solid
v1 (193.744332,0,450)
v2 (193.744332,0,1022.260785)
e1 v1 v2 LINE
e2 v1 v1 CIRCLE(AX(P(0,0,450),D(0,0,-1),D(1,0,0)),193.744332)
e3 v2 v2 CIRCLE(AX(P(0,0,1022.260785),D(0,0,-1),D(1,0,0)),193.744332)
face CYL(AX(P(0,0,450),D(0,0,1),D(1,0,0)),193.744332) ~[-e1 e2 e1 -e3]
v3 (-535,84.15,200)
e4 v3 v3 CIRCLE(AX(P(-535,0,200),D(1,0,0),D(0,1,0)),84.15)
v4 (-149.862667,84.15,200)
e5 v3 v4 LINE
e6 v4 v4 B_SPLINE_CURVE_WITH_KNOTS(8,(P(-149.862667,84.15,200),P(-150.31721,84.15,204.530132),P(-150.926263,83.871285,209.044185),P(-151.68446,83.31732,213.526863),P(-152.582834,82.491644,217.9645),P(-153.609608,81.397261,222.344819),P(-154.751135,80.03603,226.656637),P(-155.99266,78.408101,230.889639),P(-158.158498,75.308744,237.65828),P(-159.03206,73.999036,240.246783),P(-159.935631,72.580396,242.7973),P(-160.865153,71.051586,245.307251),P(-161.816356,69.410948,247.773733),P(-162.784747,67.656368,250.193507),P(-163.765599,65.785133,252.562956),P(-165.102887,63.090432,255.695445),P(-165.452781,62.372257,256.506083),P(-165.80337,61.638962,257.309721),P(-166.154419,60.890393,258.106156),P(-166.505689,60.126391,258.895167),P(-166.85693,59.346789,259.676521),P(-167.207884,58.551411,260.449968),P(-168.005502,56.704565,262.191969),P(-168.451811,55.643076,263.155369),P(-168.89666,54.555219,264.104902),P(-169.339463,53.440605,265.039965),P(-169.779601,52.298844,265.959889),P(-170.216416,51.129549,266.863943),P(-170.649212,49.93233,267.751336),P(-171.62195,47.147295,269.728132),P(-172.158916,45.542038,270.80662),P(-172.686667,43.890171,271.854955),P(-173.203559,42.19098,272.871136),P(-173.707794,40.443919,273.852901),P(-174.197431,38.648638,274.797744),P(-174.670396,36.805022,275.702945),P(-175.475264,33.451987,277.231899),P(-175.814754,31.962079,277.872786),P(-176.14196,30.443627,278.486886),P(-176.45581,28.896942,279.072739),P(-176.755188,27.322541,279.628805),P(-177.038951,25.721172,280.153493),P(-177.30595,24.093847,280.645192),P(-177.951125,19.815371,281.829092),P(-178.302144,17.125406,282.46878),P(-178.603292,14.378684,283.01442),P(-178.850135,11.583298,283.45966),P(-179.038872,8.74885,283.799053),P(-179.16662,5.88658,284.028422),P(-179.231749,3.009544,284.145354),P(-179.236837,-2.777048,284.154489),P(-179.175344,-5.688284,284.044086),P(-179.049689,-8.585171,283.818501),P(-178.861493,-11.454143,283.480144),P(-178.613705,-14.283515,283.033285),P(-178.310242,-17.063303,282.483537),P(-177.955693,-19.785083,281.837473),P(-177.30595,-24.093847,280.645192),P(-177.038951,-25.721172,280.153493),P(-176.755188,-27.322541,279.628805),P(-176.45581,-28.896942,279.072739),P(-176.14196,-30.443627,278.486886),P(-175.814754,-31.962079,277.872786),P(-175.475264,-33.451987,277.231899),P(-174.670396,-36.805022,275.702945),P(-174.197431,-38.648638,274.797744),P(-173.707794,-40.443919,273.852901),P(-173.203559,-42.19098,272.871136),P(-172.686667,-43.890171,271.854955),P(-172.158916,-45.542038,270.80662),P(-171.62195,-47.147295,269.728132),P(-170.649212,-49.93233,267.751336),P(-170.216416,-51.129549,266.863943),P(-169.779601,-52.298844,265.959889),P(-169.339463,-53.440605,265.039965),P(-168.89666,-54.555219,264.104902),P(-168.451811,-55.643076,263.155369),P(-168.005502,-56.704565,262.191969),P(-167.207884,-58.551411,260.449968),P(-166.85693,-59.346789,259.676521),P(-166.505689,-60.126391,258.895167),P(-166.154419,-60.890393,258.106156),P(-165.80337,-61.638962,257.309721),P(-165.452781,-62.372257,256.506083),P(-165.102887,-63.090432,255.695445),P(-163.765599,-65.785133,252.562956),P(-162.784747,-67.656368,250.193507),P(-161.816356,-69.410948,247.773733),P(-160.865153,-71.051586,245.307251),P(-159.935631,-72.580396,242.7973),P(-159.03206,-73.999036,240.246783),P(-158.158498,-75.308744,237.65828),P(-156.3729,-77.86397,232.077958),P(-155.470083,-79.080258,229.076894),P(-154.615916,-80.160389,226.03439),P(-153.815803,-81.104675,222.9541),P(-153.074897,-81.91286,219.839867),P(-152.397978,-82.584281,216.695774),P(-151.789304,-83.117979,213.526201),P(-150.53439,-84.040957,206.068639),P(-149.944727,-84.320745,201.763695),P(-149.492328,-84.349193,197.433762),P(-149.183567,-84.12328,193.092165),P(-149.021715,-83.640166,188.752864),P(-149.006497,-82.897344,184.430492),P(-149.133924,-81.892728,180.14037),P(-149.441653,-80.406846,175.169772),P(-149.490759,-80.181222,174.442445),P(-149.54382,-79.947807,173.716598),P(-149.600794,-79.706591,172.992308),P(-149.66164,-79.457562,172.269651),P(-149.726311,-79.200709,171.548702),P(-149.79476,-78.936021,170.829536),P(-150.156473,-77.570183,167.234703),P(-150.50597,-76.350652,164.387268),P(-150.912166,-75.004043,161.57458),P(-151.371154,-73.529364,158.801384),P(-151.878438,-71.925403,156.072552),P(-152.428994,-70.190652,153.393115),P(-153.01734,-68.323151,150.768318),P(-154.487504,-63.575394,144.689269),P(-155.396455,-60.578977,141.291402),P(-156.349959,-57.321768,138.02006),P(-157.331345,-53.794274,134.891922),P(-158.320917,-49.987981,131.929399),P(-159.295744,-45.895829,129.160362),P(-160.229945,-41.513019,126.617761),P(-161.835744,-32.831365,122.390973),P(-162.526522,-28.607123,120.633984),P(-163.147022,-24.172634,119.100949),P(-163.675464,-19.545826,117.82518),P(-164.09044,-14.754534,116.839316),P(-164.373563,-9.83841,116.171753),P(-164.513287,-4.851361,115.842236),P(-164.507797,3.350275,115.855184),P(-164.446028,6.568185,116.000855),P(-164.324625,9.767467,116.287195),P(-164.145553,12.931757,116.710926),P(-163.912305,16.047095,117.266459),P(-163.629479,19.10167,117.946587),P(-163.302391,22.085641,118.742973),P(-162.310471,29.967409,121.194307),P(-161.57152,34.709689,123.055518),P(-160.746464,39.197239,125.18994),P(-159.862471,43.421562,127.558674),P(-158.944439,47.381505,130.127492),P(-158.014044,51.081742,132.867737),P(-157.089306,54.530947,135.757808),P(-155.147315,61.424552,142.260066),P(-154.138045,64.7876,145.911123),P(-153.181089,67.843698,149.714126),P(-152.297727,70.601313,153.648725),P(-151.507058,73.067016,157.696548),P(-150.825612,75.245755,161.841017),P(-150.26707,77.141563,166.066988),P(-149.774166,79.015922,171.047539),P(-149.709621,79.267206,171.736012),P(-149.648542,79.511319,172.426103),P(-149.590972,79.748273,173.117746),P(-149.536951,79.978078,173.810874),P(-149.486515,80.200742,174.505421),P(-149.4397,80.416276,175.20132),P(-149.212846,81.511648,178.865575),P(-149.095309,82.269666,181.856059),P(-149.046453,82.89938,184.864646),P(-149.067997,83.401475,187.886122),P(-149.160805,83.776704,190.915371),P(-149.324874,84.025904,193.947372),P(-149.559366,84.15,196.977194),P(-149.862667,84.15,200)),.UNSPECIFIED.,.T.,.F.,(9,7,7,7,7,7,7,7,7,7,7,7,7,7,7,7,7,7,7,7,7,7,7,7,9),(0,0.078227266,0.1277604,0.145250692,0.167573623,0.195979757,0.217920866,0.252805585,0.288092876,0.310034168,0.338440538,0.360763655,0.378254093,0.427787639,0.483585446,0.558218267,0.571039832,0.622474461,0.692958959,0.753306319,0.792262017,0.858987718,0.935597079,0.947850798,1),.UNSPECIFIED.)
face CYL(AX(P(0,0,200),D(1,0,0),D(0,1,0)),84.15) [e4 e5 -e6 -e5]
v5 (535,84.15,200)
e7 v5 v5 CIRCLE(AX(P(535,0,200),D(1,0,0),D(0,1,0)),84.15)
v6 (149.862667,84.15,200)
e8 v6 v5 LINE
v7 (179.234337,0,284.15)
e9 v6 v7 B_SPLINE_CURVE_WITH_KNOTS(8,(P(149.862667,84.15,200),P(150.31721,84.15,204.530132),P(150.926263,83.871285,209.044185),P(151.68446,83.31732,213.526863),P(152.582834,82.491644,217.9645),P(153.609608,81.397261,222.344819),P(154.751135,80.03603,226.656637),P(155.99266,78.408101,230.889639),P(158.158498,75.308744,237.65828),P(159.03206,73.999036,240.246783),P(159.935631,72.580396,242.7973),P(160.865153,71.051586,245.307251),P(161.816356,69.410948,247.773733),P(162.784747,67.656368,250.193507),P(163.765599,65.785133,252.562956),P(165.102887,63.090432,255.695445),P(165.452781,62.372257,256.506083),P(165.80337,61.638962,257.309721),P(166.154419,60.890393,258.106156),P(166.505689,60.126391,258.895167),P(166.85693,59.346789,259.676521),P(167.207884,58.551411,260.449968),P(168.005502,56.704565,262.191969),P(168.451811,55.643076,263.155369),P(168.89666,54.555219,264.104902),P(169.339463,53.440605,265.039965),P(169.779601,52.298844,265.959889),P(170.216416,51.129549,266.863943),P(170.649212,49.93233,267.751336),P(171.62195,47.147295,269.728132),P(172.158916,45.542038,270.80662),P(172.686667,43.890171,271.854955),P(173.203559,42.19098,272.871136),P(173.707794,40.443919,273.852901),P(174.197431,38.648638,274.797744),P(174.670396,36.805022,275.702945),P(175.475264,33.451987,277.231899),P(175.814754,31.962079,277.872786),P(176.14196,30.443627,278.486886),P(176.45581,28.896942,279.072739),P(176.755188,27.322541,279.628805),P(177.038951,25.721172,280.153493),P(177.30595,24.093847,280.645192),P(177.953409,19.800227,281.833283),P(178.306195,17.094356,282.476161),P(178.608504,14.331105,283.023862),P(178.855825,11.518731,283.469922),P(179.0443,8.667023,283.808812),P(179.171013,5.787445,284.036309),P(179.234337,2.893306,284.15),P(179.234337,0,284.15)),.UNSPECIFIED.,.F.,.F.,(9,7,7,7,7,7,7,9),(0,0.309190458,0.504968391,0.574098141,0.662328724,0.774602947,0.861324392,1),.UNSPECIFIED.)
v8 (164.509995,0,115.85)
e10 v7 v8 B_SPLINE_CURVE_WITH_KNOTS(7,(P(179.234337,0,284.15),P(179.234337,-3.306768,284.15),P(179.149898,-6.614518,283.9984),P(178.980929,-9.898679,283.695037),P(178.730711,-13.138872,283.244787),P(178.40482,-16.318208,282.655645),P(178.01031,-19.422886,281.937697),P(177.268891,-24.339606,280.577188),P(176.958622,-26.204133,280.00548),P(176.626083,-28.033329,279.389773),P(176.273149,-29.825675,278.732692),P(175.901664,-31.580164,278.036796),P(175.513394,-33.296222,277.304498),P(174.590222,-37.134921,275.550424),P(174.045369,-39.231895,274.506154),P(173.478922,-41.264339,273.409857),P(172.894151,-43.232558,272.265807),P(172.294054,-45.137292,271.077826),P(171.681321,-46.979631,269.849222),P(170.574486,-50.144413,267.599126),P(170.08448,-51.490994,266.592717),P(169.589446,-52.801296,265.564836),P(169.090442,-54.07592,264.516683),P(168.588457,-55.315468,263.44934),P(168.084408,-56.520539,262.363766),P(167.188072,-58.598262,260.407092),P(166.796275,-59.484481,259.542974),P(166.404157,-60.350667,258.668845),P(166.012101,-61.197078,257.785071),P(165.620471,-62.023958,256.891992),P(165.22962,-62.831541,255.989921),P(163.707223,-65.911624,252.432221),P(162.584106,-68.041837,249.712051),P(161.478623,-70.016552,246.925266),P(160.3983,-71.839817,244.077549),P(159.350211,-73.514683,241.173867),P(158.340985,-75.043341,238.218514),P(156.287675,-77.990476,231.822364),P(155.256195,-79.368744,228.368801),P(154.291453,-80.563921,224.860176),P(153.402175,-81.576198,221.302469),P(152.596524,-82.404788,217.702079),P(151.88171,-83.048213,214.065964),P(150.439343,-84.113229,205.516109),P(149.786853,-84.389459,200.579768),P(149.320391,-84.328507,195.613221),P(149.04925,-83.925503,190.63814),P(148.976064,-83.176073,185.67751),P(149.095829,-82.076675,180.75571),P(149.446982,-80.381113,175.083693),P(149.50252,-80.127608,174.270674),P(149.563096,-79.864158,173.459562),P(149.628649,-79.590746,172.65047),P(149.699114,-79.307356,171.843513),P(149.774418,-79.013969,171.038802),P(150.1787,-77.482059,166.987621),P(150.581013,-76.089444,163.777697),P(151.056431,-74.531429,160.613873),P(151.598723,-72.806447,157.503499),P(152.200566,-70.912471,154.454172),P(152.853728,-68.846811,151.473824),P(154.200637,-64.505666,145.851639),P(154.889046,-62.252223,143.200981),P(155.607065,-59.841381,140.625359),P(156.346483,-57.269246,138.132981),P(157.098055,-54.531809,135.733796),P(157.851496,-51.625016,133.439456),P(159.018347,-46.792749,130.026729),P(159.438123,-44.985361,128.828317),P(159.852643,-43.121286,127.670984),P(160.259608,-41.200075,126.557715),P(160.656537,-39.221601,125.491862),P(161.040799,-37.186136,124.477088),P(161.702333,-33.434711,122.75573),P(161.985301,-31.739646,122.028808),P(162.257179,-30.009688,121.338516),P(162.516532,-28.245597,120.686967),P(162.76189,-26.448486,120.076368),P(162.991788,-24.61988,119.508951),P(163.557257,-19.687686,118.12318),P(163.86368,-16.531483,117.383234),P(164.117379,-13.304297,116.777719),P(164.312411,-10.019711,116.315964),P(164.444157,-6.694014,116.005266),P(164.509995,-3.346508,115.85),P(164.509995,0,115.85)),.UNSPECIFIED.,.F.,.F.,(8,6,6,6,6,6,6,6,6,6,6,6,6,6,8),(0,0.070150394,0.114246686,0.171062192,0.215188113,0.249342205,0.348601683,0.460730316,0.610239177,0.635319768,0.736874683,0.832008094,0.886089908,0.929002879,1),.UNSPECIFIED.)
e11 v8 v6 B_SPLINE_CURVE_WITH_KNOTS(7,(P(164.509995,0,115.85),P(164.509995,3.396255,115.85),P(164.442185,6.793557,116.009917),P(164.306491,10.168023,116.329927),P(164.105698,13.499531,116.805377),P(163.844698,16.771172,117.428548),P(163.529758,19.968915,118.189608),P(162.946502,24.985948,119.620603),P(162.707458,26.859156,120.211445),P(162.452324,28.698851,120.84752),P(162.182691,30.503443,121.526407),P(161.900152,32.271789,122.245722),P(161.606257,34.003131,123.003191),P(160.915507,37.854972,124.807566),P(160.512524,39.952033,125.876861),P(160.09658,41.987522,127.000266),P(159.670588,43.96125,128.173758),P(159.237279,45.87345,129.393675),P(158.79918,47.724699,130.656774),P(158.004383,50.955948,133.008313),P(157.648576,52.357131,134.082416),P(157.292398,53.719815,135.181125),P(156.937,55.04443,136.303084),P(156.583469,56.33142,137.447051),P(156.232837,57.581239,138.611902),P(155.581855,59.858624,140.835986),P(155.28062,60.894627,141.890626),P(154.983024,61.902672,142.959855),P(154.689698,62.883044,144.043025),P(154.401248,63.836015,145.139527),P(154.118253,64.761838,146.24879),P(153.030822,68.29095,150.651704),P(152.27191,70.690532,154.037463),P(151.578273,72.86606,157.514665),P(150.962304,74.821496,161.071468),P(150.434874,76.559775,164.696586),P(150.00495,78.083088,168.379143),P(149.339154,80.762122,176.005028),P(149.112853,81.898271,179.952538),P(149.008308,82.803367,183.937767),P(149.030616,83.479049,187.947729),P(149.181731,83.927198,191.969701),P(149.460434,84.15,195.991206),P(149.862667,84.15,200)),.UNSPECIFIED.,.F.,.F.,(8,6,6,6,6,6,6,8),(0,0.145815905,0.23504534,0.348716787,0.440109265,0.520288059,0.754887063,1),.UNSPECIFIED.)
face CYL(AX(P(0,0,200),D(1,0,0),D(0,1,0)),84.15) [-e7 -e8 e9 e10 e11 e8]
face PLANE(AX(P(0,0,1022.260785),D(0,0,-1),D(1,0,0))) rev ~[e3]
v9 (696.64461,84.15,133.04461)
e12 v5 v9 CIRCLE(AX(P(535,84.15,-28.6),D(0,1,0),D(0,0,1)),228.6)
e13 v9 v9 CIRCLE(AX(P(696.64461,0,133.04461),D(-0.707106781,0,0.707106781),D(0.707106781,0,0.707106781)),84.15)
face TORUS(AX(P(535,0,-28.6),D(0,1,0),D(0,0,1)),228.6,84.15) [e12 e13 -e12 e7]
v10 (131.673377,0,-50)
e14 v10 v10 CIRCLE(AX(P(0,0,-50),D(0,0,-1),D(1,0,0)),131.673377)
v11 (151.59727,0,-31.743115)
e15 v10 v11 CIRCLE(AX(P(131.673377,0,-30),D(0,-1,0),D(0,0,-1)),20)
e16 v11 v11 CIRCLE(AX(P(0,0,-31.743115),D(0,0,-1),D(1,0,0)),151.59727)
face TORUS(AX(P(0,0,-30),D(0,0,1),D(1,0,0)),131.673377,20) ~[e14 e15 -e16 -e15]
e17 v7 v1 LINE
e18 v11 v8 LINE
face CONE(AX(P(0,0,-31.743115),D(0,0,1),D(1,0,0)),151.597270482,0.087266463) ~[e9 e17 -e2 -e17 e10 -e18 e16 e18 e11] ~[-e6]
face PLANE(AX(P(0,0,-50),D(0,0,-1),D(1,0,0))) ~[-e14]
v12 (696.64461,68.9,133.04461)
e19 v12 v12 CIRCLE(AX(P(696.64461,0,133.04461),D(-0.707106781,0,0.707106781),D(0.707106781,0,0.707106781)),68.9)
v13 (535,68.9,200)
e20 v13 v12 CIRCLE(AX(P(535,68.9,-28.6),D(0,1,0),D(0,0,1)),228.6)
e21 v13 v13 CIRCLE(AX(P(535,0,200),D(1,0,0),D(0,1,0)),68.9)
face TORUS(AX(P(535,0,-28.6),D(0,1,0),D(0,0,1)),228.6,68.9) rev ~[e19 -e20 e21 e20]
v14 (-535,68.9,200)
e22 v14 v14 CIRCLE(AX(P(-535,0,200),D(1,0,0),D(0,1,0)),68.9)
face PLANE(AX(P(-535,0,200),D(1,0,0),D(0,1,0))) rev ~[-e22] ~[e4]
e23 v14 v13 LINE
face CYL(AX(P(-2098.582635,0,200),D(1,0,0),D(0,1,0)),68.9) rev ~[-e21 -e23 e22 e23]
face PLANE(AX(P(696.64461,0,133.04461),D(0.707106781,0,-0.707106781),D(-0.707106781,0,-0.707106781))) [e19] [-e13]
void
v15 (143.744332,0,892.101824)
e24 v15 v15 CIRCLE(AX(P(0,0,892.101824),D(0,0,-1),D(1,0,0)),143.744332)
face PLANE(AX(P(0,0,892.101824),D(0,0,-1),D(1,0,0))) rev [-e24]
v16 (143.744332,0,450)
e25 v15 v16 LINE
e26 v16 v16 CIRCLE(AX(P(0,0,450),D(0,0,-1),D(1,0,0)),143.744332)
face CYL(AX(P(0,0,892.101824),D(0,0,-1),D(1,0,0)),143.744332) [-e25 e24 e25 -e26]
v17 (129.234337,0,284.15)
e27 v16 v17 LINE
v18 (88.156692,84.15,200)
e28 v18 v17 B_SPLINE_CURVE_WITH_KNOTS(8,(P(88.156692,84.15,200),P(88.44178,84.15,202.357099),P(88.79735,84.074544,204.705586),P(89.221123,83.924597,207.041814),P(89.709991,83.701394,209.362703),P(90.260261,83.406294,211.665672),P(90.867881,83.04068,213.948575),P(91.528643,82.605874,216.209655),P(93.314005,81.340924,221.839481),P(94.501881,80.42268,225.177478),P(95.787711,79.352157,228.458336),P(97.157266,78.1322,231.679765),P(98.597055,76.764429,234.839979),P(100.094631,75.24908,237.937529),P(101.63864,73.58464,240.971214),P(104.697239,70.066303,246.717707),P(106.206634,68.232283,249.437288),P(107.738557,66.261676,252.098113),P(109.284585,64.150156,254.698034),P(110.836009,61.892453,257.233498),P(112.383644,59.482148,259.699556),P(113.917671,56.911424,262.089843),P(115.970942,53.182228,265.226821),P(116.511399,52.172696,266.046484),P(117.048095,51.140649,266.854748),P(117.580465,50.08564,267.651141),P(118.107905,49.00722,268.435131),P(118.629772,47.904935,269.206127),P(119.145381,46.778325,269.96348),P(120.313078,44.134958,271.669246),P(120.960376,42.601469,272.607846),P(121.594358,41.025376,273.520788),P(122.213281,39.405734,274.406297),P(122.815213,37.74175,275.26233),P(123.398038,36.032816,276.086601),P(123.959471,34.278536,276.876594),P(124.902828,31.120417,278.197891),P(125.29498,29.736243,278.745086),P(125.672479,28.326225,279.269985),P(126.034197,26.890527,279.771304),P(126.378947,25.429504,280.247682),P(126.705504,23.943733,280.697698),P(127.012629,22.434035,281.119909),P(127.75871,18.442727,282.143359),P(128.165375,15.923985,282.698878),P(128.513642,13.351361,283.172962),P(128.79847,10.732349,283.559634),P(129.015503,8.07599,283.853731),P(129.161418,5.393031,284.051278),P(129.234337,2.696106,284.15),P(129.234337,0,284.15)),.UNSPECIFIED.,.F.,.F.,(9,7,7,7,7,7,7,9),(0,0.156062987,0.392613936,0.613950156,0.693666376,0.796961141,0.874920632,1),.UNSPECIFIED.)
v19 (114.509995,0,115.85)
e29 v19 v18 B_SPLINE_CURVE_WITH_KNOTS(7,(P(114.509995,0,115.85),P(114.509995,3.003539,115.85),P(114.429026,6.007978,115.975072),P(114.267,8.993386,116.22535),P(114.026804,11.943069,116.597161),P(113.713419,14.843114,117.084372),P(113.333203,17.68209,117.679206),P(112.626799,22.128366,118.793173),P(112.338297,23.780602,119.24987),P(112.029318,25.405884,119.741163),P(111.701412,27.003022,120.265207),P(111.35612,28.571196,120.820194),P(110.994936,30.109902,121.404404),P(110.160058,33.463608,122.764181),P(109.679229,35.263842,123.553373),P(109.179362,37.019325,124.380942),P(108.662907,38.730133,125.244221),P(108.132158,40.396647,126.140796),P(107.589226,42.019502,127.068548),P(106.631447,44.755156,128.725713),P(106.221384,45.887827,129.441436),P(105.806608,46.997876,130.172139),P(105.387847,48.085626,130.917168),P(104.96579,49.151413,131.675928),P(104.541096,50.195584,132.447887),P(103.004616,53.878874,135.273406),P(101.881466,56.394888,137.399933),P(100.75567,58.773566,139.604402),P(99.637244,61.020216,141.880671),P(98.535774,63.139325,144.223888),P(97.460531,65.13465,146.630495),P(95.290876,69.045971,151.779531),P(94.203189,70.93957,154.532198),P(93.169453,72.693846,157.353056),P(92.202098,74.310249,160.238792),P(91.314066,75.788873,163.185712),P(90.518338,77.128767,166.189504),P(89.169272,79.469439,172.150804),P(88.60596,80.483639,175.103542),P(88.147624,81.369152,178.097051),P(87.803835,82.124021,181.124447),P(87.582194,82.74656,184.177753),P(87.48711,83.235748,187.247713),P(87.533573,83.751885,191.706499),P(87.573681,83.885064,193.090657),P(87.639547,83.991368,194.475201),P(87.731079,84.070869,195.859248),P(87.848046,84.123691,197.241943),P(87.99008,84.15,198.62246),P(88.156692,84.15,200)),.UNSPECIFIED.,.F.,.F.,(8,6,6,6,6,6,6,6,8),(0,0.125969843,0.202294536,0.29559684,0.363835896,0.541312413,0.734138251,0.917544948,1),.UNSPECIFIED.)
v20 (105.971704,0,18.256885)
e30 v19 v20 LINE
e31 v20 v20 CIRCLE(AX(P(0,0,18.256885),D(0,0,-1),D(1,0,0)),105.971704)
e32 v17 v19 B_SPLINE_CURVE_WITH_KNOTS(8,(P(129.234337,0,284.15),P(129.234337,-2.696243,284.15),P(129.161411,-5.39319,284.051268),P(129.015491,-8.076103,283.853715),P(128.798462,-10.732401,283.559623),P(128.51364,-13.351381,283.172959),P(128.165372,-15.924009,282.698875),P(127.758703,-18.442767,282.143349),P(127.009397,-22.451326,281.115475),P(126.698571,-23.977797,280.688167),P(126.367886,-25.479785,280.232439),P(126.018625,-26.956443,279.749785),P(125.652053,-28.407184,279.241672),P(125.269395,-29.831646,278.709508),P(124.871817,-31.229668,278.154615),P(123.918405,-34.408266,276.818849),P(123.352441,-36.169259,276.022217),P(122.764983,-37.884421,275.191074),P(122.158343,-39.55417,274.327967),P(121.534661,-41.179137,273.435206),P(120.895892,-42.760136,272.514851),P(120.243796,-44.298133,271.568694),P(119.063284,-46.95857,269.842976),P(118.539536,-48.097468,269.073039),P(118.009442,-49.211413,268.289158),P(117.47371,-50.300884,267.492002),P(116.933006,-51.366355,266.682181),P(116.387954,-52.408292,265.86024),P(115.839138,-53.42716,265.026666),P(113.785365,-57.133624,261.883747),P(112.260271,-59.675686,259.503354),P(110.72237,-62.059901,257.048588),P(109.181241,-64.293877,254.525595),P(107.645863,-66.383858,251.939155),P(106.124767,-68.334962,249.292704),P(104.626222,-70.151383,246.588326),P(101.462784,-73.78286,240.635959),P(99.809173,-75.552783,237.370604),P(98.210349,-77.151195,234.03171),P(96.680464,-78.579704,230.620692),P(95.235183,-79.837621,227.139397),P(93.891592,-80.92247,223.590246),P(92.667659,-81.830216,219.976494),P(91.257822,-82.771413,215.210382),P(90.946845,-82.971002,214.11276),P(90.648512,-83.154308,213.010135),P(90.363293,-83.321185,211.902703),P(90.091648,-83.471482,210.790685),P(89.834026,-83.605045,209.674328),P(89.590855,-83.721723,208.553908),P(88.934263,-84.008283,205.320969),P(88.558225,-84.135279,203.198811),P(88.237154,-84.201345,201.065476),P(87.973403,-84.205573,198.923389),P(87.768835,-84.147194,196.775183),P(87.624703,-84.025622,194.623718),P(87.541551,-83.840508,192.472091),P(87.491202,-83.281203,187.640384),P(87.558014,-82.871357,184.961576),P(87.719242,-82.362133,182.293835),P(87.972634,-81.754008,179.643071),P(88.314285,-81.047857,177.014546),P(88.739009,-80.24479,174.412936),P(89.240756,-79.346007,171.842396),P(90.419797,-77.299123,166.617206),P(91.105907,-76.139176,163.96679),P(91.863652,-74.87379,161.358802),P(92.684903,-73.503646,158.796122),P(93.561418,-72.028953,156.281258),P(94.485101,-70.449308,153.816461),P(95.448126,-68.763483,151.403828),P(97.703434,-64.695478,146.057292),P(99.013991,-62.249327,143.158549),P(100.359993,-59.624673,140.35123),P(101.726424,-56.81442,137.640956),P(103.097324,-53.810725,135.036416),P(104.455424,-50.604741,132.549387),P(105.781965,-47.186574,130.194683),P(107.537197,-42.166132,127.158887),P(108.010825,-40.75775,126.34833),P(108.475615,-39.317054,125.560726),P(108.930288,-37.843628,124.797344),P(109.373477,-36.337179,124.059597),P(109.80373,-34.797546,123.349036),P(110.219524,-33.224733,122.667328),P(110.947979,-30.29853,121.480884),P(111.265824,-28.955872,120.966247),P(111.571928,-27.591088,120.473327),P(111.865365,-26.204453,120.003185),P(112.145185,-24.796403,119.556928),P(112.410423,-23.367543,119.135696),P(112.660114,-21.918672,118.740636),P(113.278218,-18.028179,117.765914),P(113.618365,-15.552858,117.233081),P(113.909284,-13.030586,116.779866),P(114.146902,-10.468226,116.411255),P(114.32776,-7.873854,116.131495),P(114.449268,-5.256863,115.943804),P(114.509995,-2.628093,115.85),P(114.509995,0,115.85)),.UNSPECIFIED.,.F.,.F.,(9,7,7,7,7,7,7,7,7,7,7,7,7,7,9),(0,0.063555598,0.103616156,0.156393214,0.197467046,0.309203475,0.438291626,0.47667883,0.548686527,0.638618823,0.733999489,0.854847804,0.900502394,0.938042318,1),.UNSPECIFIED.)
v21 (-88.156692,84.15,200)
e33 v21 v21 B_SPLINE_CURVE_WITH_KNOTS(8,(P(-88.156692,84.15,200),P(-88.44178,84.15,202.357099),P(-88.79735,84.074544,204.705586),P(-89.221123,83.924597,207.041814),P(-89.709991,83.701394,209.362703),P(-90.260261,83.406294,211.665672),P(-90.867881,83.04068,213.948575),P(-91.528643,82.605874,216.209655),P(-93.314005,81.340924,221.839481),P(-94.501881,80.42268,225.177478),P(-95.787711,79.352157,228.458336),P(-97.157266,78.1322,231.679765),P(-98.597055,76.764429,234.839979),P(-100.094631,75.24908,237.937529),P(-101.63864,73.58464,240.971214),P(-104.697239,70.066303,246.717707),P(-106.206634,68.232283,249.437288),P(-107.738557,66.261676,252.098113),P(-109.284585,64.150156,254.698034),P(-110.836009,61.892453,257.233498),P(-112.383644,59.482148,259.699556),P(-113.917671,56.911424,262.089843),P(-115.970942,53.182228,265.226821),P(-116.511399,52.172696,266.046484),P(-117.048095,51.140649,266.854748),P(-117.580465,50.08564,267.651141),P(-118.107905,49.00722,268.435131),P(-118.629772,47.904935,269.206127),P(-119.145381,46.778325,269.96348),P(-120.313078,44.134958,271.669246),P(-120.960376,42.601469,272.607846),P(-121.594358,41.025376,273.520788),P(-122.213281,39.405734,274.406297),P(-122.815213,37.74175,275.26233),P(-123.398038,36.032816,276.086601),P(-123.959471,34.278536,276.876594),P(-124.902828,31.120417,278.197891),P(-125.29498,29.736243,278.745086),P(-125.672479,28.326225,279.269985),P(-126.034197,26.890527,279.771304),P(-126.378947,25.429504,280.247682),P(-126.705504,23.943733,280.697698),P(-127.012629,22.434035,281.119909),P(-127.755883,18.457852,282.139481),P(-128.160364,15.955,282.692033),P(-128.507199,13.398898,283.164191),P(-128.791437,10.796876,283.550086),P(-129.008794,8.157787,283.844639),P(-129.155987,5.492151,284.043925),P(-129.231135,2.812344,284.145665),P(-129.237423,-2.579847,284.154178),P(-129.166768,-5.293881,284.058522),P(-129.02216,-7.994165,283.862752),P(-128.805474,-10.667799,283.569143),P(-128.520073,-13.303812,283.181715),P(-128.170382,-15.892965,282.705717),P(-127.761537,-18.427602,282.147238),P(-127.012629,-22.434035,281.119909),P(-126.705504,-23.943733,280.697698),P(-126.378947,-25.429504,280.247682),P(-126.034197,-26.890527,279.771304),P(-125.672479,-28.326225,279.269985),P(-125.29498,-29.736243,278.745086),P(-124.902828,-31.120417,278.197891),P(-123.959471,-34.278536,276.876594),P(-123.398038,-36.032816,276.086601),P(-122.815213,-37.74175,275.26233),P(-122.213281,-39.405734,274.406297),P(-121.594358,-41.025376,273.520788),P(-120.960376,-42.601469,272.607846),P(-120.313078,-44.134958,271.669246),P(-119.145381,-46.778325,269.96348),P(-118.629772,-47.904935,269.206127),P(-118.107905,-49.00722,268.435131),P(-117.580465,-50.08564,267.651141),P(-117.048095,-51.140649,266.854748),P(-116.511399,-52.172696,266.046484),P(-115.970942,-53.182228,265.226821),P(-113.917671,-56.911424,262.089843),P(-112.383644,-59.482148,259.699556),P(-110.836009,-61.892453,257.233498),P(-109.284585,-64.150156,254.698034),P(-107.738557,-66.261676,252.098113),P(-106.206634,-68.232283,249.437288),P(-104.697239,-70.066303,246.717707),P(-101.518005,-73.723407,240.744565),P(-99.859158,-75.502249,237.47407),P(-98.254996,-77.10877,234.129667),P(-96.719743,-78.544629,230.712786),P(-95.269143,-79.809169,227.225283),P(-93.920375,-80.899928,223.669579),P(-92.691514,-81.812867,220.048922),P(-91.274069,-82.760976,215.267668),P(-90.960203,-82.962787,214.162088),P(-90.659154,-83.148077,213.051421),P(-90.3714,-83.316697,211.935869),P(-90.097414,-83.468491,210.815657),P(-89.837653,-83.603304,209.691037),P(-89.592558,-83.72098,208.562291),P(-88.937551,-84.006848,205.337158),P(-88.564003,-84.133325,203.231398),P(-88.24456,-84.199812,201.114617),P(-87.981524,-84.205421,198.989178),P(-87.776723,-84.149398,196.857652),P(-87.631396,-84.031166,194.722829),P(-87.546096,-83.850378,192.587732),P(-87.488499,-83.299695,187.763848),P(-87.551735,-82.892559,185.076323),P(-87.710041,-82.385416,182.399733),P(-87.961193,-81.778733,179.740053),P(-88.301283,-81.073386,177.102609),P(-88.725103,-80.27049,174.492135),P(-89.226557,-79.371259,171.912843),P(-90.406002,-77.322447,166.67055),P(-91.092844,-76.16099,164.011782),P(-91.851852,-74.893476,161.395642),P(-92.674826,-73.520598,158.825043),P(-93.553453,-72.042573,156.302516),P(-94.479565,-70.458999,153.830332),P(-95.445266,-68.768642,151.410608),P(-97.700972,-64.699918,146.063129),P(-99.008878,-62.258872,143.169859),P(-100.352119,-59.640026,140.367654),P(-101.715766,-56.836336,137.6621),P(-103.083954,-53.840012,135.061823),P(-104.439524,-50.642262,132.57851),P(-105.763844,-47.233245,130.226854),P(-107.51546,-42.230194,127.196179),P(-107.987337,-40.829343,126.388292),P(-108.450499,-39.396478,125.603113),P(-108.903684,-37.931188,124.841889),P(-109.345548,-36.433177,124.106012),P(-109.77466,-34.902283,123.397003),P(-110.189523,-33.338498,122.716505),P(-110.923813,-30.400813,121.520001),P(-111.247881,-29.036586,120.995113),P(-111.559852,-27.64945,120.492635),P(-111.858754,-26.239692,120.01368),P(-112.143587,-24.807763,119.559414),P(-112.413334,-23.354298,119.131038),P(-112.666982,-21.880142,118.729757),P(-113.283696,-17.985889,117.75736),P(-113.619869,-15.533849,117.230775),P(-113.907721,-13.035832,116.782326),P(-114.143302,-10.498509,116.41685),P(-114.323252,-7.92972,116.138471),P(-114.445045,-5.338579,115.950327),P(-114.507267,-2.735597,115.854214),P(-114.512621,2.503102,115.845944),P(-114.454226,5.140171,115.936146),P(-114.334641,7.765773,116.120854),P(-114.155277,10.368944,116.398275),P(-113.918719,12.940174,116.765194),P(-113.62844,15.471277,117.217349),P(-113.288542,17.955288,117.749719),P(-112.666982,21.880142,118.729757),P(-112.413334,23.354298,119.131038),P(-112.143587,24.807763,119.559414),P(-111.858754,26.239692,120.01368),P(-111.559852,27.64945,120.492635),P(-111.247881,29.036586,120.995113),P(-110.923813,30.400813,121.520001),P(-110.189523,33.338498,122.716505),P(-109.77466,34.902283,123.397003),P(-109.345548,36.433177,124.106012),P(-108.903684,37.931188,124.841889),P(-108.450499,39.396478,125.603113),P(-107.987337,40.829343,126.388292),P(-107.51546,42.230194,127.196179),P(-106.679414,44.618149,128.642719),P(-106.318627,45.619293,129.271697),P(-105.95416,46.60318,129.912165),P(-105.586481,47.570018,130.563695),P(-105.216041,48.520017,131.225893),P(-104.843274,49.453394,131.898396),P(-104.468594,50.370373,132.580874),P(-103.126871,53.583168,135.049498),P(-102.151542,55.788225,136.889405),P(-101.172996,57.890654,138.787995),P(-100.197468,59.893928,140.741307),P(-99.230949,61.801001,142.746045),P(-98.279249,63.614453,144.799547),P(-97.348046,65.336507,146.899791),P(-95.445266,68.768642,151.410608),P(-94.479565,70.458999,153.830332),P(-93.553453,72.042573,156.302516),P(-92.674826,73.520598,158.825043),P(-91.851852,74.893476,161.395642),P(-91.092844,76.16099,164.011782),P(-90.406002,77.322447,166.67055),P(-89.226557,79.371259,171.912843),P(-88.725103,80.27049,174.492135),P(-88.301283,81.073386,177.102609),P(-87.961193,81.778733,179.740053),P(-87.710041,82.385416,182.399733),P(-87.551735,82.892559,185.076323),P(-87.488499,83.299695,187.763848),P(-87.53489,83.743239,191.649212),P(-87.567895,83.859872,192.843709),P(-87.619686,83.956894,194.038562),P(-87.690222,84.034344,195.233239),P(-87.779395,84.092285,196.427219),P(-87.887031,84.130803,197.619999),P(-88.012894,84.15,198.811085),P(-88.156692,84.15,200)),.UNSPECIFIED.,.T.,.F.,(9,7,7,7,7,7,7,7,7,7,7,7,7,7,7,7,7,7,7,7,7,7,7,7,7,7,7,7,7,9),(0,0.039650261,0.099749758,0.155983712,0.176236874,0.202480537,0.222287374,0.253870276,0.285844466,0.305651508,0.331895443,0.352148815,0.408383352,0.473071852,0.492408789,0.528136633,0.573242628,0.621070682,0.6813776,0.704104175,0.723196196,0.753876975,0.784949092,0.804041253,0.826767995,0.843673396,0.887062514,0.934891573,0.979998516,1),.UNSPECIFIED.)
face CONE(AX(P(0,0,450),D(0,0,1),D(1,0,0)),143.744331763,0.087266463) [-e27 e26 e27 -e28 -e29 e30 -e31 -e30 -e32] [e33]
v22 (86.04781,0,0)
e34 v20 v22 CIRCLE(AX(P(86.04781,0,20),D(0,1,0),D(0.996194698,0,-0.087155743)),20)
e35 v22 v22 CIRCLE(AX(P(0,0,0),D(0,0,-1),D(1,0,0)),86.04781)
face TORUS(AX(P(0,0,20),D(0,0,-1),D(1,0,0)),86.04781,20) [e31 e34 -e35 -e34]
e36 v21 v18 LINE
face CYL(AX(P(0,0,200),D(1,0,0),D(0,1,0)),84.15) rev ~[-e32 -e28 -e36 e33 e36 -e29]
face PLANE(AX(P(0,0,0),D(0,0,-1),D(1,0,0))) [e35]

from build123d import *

# Parameters (mm, degrees)
F2_R         = 84.15
F3_DEPTH     = 535
F5_D         = 137.8
F3_FACE1_R   = 84.15
F3_FACE1_R_2 = 68.9


with BuildPart() as f1:
    # F0 (on Front) → F1 (revolve)
    with BuildSketch(Plane.XZ):
        with BuildLine():
            Line((86.0478096959, 0), (0, 0))
            Line((0, 0), (0, -50))
            Line((0, -50), (131.6733765197, -50))
            ThreePointArc((131.6733765197, -50), (145.185180672, -44.7455467362), (151.5972704815, -31.743114855))
            Line((151.5972704815, -31.743114855), (193.744331763, 450))
            Line((193.744331763, 450), (193.744331763, 1022.2607851028))
            Line((193.744331763, 1022.2607851028), (0, 1022.2607851028))
            Line((0, 1022.2607851028), (0, 892.1018242836))
            Line((0, 892.1018242836), (143.744331763, 892.1018242836))
            Line((143.744331763, 892.1018242836), (143.744331763, 450))
            Line((143.744331763, 450), (105.9717036578, 18.256885145))
            ThreePointArc((105.9717036578, 18.256885145), (99.5596138483, 5.2544532638), (86.0478096959, 0))
        make_face()
    revolve(axis=Axis((0, 0, -25), (0, 0, -1)))

    # F2 (on Right) → F3 (join, symmetric)
    with BuildSketch(Plane.YZ):
        with Locations((0, 200)):
            Circle(F2_R)
    extrude(amount=F3_DEPTH, both=True)

    # F5 (through all)
    with Locations(Plane(origin=(-535, 0, 0), x_dir=(0, -1, 0), z_dir=(-1, 0, 0))):
        with Locations((0, 200)):
            Hole(F5_D / 2)

    # F8: sweep along a path in F7
    with BuildLine(Plane(origin=(0, 0, 0), x_dir=(-1, 0, 0), z_dir=(0, 1, 0))) as f8_path:
        ThreePointArc((-535, 200), (-622.4814326387, 182.5988611321), (-696.6446101792, 133.0446101792))
    # F3_face1 (on face) → F8 (sweep)
    with BuildSketch(Plane(origin=(535, 0, 200), x_dir=(0, 1, 0), z_dir=(1, 0, 0))):
        Circle(F3_FACE1_R)
        Circle(F3_FACE1_R_2, mode=Mode.SUBTRACT)
    sweep(path=f8_path.line)


solid = f1.part
